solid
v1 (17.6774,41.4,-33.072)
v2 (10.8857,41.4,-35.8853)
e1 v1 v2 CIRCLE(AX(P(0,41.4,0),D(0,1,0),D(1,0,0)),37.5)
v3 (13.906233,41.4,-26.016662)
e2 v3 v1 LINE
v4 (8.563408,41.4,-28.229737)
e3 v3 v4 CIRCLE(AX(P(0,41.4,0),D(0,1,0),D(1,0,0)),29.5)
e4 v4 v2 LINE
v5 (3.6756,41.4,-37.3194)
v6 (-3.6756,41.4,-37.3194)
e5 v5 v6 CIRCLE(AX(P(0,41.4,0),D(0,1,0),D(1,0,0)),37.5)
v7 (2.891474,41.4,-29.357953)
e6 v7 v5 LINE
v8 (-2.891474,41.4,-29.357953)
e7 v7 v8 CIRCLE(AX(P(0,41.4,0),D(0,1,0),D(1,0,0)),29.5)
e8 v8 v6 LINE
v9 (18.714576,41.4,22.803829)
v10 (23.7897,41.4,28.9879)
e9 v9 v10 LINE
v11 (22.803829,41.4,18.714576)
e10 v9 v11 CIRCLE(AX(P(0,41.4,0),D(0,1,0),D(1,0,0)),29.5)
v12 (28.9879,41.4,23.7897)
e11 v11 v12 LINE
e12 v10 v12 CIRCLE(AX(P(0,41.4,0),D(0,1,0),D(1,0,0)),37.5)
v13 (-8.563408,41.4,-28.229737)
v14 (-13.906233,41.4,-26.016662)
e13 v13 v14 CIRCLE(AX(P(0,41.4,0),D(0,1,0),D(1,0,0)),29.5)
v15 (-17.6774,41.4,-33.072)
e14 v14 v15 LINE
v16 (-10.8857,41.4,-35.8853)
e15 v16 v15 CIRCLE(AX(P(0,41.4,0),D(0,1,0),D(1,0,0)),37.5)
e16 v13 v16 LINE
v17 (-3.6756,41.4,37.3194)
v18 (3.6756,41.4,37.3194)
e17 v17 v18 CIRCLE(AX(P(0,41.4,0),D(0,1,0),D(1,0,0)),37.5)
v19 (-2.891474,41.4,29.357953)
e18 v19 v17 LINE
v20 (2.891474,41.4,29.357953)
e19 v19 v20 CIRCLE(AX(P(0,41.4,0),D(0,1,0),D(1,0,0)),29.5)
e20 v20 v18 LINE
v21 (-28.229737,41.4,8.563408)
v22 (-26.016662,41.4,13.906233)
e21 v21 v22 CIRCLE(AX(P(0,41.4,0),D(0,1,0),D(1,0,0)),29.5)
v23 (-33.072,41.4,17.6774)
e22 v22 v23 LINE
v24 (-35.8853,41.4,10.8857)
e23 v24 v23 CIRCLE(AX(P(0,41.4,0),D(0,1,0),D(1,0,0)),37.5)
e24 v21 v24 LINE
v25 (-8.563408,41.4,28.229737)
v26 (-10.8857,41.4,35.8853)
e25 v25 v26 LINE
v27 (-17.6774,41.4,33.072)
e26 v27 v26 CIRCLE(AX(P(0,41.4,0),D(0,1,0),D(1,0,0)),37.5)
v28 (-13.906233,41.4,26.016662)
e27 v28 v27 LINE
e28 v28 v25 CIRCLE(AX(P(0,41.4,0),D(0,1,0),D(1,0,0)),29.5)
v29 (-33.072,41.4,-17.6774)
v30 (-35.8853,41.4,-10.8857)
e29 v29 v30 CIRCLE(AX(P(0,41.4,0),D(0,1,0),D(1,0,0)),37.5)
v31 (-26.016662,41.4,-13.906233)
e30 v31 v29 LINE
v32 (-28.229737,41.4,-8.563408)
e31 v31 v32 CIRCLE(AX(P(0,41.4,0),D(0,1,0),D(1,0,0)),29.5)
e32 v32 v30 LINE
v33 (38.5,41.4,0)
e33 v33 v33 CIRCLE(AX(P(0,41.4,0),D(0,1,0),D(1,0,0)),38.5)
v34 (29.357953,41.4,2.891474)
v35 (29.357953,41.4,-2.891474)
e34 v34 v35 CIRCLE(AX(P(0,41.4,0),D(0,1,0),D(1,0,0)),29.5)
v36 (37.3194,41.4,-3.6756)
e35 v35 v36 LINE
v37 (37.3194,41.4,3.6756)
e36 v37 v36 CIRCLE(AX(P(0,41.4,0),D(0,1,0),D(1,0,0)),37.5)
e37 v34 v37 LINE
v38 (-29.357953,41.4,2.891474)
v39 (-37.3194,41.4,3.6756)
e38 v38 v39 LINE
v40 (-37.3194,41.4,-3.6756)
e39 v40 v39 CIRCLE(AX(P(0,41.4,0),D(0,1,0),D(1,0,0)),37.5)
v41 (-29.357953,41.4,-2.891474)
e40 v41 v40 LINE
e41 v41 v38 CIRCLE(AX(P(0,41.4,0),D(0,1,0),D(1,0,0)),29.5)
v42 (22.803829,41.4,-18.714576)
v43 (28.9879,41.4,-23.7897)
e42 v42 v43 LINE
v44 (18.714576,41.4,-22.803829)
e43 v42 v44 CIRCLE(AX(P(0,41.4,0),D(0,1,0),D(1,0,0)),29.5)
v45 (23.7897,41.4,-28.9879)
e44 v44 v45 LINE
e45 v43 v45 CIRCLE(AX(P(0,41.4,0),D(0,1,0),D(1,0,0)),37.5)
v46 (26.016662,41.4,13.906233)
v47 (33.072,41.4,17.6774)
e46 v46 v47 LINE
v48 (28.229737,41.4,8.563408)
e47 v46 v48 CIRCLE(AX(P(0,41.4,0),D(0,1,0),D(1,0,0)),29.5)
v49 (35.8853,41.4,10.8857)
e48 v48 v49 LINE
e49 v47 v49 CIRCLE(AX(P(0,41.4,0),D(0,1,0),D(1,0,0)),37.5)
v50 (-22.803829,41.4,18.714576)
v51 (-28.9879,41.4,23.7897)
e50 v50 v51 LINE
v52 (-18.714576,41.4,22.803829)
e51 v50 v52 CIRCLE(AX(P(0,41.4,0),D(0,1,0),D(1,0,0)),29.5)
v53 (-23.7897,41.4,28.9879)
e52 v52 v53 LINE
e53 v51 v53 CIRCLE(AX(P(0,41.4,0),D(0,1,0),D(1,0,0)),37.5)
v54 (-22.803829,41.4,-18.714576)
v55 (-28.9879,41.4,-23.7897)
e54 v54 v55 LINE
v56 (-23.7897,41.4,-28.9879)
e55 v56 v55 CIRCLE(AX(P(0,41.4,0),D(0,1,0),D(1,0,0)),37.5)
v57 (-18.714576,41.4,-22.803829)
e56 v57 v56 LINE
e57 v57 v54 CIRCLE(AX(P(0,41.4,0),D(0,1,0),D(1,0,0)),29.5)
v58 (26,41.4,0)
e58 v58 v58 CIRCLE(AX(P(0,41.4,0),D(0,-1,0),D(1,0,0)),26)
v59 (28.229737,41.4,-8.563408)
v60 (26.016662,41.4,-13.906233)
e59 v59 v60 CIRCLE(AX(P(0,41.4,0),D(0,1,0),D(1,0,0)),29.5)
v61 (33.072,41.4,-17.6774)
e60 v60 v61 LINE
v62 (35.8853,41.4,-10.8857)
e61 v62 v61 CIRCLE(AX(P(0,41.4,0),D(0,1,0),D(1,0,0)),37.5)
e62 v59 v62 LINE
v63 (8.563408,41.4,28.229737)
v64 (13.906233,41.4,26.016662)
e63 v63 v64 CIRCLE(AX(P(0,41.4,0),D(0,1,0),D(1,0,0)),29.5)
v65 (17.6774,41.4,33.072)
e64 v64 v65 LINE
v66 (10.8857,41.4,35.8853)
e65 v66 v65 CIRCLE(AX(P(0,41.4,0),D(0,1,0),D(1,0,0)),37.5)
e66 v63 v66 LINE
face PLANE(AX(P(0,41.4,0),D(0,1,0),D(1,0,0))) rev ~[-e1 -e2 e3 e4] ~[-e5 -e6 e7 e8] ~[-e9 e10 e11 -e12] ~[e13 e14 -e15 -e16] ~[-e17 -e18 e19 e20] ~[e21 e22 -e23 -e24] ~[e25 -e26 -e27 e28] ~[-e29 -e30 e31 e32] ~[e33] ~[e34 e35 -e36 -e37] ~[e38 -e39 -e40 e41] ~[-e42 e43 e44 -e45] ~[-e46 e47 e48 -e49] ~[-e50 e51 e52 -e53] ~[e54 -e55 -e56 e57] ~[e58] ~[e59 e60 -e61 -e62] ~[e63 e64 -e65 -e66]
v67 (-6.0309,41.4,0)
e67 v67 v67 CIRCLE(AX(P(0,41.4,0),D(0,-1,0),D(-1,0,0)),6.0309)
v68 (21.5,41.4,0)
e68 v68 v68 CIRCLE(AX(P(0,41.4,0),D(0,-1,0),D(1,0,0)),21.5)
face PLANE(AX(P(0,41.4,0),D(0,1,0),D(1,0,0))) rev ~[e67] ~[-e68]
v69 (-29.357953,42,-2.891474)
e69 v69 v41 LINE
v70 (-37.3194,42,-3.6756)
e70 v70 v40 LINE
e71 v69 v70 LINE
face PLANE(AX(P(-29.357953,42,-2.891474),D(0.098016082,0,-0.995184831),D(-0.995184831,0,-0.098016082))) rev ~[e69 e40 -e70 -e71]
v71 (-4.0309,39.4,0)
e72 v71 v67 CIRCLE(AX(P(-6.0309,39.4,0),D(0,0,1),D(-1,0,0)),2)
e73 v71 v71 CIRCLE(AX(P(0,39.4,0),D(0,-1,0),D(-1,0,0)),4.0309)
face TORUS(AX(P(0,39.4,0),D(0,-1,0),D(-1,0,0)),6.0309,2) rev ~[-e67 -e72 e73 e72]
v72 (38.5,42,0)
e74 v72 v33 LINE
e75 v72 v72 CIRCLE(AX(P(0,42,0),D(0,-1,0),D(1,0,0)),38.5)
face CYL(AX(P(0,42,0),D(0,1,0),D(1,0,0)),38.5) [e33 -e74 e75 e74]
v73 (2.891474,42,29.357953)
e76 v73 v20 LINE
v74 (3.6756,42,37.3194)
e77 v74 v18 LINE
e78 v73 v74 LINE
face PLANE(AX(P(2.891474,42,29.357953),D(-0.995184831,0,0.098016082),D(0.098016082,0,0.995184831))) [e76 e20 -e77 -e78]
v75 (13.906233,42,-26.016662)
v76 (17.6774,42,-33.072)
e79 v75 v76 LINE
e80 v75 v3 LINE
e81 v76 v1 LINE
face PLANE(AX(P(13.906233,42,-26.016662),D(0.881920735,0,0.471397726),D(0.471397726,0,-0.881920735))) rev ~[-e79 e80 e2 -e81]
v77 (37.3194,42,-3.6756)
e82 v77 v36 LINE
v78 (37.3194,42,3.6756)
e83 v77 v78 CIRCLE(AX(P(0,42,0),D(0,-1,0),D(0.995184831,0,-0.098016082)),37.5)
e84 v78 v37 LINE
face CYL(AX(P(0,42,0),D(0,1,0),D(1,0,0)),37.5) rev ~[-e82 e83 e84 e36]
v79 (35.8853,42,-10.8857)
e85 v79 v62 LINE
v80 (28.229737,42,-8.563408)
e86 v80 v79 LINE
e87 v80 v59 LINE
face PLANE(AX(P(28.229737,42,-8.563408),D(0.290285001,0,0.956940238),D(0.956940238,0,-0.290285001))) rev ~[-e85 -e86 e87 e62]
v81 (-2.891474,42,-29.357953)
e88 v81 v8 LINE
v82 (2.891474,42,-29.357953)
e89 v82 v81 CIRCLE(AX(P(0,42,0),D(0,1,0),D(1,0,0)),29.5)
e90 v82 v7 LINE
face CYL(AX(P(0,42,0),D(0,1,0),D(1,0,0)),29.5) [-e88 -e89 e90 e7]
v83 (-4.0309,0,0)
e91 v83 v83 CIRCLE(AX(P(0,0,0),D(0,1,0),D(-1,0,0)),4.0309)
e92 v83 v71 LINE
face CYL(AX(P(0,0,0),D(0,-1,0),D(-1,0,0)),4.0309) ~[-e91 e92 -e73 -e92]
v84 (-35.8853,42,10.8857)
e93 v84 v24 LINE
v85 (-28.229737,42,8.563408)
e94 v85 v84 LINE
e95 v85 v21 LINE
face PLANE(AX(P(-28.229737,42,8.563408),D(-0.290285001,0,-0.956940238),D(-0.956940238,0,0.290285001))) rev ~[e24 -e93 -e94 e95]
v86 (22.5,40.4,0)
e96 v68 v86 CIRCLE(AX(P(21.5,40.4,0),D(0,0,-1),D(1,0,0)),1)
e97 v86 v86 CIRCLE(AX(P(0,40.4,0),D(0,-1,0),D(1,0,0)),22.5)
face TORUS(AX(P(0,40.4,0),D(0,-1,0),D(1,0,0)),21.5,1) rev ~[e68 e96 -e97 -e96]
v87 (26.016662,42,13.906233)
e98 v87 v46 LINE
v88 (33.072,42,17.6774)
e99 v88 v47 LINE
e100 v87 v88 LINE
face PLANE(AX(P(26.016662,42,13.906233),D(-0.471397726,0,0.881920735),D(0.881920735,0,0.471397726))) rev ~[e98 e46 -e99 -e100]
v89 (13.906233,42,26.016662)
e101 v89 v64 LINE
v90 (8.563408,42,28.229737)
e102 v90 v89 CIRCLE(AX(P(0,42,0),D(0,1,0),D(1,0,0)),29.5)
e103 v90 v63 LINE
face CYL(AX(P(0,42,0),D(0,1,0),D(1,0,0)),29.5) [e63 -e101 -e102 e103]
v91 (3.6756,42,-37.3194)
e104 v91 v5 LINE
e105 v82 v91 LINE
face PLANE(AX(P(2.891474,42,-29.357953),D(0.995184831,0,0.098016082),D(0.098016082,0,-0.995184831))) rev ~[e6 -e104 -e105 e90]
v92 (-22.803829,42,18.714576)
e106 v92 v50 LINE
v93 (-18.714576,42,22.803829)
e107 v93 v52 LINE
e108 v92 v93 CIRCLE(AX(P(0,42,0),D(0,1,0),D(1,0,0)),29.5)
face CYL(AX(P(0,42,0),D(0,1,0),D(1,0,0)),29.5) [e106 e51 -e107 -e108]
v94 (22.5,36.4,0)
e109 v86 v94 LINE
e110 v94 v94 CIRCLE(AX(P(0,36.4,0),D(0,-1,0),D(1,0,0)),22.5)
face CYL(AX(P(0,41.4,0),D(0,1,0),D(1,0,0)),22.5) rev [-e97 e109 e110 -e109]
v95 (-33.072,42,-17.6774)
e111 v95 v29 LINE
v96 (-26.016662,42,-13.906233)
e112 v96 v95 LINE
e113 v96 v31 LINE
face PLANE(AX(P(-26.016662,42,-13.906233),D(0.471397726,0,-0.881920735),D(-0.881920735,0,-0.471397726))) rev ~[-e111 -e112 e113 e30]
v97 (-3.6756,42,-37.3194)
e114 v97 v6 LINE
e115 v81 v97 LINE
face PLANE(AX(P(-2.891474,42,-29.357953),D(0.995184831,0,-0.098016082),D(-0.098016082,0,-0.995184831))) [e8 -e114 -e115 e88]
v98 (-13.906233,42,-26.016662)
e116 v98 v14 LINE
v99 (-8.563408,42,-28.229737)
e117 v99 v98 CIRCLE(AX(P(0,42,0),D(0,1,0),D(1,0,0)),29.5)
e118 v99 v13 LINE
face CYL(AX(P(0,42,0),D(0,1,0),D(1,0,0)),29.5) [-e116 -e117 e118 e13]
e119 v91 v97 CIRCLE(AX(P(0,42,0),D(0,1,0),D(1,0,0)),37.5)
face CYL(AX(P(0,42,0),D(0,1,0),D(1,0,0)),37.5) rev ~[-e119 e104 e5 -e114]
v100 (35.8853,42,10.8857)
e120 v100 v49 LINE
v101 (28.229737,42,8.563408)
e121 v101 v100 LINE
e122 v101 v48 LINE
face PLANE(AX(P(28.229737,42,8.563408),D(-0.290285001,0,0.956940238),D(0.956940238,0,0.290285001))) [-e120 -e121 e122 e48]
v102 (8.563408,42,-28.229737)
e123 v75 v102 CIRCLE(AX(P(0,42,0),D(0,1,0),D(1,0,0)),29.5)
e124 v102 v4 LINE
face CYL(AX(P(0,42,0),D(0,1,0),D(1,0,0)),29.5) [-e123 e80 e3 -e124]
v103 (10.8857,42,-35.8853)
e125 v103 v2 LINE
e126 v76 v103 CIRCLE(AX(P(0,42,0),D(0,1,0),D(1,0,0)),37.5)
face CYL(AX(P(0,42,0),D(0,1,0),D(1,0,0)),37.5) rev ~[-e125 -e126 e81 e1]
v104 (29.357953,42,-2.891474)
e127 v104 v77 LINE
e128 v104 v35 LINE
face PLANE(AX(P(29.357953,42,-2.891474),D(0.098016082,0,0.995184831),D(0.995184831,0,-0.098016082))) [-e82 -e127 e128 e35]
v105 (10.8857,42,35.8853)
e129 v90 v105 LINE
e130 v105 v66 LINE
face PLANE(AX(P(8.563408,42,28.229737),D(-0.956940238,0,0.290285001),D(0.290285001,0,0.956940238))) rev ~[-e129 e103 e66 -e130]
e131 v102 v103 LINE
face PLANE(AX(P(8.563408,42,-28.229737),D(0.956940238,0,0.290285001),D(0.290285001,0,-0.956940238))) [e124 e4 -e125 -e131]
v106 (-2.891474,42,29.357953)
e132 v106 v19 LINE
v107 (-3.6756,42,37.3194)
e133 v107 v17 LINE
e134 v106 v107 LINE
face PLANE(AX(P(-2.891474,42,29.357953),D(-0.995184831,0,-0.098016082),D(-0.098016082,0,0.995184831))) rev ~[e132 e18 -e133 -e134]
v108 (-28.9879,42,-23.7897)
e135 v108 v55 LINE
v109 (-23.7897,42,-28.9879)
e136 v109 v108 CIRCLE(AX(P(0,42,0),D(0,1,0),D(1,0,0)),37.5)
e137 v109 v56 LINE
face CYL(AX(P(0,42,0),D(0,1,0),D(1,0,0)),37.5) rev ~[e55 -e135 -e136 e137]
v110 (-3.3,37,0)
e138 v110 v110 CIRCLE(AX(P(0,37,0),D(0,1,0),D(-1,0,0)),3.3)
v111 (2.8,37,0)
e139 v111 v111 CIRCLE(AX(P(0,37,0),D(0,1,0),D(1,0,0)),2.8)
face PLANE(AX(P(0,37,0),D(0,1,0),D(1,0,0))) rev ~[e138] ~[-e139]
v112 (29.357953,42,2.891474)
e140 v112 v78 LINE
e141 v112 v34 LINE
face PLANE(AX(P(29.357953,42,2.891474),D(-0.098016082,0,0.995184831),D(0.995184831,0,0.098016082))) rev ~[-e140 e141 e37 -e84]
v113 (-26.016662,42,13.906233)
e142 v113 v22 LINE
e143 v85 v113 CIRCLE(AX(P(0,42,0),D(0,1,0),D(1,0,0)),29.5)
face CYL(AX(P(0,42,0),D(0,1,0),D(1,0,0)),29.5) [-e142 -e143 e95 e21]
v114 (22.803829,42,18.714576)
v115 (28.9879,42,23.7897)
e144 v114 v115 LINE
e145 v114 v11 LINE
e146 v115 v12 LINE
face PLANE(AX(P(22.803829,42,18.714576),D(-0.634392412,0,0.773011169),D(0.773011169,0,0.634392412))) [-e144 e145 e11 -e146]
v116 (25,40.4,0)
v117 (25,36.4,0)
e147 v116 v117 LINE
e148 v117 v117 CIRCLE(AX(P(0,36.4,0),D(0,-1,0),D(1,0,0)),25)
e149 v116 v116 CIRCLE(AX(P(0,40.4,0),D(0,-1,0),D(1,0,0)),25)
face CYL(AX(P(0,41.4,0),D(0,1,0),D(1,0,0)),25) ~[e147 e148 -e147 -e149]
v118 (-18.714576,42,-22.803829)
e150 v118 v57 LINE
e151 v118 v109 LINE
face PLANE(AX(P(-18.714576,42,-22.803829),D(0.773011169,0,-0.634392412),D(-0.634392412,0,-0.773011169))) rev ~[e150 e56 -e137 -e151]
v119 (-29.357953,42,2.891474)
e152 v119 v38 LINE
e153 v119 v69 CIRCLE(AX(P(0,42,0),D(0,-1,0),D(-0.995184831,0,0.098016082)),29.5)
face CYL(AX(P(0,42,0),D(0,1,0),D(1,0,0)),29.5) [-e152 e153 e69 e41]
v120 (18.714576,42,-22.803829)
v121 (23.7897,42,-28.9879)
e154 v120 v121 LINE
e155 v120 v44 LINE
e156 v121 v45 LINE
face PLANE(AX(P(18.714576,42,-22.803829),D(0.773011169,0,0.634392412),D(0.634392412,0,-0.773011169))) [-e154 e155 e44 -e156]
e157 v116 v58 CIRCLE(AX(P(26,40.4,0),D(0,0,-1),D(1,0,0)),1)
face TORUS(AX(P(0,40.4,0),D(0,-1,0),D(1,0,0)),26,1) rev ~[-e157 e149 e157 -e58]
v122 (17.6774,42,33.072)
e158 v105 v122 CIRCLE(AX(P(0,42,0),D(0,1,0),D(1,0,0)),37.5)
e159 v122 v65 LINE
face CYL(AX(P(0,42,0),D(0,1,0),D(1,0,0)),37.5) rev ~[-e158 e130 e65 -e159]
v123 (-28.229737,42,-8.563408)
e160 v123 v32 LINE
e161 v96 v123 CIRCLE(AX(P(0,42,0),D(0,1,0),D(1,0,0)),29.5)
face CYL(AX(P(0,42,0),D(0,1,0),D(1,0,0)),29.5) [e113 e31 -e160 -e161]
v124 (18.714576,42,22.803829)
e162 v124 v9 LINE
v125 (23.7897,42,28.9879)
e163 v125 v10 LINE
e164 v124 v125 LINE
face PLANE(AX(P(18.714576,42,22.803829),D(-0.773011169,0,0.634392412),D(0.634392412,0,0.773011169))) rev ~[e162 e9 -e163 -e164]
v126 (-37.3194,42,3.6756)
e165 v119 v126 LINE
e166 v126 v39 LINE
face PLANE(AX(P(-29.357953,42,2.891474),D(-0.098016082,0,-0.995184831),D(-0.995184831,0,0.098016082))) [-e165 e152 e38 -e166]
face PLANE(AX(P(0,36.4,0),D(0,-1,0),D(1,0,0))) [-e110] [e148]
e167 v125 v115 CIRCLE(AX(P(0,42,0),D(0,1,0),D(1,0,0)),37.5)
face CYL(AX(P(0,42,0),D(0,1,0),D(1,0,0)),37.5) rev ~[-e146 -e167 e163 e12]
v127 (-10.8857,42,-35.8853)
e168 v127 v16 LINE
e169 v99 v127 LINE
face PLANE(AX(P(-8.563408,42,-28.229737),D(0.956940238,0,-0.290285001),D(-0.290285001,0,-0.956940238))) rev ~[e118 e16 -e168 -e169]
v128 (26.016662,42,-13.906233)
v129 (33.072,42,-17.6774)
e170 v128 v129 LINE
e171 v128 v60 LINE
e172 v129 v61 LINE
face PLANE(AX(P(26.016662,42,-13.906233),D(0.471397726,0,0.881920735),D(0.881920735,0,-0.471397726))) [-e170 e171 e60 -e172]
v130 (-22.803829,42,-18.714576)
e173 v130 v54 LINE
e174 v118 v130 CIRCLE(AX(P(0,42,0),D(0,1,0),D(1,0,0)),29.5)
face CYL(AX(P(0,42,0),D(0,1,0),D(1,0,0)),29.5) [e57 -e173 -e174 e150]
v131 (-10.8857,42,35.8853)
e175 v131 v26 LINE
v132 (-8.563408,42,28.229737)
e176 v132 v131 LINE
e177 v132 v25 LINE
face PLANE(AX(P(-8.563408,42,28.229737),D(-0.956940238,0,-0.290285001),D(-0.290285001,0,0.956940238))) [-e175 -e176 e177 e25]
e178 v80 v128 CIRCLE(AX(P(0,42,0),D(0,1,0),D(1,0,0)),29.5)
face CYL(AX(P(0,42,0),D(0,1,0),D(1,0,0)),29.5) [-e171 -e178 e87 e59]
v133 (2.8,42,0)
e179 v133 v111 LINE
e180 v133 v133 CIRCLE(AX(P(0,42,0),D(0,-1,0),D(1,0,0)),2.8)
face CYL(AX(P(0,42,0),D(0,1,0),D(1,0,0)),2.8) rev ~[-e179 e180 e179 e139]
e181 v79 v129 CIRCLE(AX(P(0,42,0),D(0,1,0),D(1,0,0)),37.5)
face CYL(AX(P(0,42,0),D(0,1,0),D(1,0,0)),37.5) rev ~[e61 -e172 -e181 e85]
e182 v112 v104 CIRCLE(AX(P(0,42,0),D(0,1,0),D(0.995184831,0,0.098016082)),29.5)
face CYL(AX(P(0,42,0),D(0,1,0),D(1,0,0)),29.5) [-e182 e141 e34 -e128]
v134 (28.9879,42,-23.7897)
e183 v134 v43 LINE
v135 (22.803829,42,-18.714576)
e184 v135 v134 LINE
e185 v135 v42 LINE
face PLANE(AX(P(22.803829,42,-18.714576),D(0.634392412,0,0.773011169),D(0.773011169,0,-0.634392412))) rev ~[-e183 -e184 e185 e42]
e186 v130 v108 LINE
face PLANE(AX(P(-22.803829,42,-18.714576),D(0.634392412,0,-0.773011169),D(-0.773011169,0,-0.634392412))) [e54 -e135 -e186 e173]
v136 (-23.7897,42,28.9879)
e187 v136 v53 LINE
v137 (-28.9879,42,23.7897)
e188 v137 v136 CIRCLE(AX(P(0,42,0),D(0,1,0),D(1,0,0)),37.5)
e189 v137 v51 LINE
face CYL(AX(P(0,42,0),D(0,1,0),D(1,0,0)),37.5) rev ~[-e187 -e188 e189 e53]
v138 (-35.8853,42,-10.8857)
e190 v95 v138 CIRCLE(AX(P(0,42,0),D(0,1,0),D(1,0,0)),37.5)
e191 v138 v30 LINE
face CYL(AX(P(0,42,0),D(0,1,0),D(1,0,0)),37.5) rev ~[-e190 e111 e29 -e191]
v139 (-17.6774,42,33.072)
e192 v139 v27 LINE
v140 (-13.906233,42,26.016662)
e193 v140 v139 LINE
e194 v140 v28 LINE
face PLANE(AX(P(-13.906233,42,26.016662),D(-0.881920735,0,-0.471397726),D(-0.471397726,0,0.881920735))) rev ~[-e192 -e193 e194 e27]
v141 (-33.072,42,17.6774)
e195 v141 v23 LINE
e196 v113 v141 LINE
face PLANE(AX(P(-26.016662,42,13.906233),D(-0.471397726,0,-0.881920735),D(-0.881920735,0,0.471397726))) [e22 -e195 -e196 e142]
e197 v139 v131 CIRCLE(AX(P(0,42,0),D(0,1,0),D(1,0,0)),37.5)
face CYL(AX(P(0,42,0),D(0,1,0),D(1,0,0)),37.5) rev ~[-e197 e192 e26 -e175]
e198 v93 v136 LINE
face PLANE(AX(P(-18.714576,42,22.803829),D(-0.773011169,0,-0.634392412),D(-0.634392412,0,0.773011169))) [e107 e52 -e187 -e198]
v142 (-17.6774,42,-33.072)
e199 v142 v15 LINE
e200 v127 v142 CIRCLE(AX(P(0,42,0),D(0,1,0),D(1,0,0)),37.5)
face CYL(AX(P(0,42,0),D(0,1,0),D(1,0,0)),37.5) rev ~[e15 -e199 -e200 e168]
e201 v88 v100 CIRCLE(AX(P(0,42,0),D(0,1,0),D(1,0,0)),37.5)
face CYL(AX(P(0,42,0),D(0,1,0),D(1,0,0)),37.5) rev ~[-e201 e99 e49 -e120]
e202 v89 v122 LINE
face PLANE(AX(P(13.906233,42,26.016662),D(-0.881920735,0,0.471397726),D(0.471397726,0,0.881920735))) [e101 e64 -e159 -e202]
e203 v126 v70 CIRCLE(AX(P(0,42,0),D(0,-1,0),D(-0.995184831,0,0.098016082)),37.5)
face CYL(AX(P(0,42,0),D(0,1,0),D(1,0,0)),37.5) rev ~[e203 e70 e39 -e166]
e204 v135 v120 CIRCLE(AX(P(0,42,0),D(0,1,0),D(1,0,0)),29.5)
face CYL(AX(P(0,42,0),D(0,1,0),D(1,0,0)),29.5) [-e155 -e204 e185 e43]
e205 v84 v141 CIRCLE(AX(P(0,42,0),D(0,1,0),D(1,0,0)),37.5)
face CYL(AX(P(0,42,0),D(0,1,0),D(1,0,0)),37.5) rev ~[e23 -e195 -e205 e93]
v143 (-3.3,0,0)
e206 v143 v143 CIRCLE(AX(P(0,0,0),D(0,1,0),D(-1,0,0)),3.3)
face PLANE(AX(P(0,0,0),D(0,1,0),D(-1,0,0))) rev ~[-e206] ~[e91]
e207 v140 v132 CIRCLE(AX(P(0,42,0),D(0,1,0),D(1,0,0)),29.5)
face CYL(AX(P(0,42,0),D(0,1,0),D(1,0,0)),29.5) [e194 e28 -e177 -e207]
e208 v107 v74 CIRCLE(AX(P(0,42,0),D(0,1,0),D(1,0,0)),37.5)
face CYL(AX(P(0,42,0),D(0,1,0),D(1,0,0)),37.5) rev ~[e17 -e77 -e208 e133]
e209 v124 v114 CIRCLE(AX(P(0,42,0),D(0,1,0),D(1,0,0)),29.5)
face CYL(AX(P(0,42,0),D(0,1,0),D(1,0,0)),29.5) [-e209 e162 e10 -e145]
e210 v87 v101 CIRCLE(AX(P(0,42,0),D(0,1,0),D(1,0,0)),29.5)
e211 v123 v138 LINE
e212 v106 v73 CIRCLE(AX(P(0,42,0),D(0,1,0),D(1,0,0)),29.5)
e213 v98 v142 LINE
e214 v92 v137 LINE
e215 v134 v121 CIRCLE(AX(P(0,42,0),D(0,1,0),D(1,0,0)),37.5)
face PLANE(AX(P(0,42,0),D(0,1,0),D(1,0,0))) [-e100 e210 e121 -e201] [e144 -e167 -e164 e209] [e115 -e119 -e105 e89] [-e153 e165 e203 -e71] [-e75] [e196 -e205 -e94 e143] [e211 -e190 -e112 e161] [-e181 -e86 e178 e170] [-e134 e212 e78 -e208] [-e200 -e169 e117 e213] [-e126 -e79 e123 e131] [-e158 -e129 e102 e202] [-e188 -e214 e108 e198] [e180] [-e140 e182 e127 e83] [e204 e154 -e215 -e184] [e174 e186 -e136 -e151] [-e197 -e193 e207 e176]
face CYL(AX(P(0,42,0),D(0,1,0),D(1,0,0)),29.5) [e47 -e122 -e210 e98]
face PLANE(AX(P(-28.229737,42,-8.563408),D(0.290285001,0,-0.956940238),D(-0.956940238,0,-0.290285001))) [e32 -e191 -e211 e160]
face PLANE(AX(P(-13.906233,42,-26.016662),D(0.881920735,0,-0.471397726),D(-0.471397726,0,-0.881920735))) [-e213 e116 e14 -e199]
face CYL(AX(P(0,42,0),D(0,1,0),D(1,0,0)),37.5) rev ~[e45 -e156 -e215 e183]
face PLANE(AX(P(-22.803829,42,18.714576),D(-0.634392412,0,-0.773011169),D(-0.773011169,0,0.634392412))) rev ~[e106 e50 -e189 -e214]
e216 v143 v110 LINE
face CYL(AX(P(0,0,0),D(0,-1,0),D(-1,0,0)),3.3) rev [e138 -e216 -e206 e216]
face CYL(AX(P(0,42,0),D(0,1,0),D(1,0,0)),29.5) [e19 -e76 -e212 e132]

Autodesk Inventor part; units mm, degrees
ref_plane "YZ Plane" through (0, 0, 0) normal (1, 0, 0) x (0, 1, 0)
ref_plane "XZ Plane" through (0, 0, 0) normal (0, 1, 0) x (-1, 0, 0)
ref_plane "XY Plane" through (0, 0, 0) normal (0, 0, 1) x (1, 0, 0)
sketch "Sketch1" plane through (0, 0, 0) normal (0, 1, 0) x (-1, 0, 0)
  circle A0 centre (0, 0) radius 4.0309
  circle A1 centre (0, 0) radius 3.3
  dimension "d0" = 6.6
extrude "Extrusion1" add sketch "Sketch1" along normal blind 42
sketch "Sketch2" plane through (0, 42, 0) normal (0, 1, 0) x (1, 0, 0)
  circle A0 centre (0, 0) radius 4.0309 projected
  circle A1 centre (0, 0) radius 3.3 projected
  circle A2 centre (0, 0) radius 2.8
  dimension "d3" = 5.6
extrude "Extrusion2" add sketch "Sketch2" against normal blind 5 contours A1
sketch "Sketch3" plane through (0, 42, 0) normal (0, 1, 0) x (1, 0, 0)
  circle A0 centre (0, 0) radius 38.5
  circle A1 centre (0, 0) radius 25
  circle A2 centre (0, 0) radius 4.0309 projected
  circle A3 centre (0, 0) radius 2.8 projected
  line L0 (0, 4.0309) -> (38.2884, 4.0309)
  line L1 (0, -4.0309) -> (38.2884, -4.0309)
  line L2 (-3.4908, -2.0154) -> (-22.635, 31.1433)
  line L3 (3.4908, 2.0154) -> (-15.6534, 35.1742)
  line L4 (3.4908, -2.0154) -> (-15.6534, -35.1742)
  line L5 (-3.4908, 2.0154) -> (-22.635, -31.1433)
  point P0 (24.6729, 4.0309)
  point P1 (24.6729, -4.0309)
  point P2 (-4.6544, 0)
  point P3 (-3.4908, 2.0154)
  point P4 (2.3272, 4.0309)
  point P5 (-8.8456, 23.3828)
  point P6 (-15.8273, 19.3519)
  point P7 (-15.8273, -19.3519)
  point P8 (-8.8456, -23.3828)
  point P9 (2.3272, -4.0309)
  point P10 (-3.4908, -2.0154)
  point P11 (-22.635, -31.1433)
  point P12 (-22.635, 31.1433)
  point P13 (3.4908, -2.0154)
  point P14 (-15.6534, -35.1742)
  point P15 (-15.6534, 35.1742)
  dimension "d10" = 77
  dimension "d11" = 50
  dimension "d28" = 360
extrude "Extrusion3" add sketch "Sketch3" against normal blind 0.6 contours A0 L1 A1 L0 | L0 A1 L3 A0 | A0 L4 A1 L1 | L3 A1 L2 A0 | L0 L3 A1 | A1 L1 L4 A2 L3 L0 | A0 L5 A1 L4 | A1 L4 L1 | L2 A1 L5 A0 | L3 L0 A2 L5 L2 A1 | L3 A2 L0 | A1 L5 L2 A2 L1 L4 | L1 A2 L4 | L2 L5 A1 | A2 | L5 A2 L2 | A3
fillet "Fillet1" [suppressed]
sketch "Sketch4" plane through (0, 42, 0) normal (0, 1, 0) x (1, 0, 0)
  circle A0 centre (0, 0) radius 39.5 projected
  circle A1 centre (0, 0) radius 37.5
  circle A2 centre (0, 0) radius 29.5
  line L0 (-39.5, 0) -> (0, 0)
  line L1 (0, 0) -> (-37.3194, 3.6756)
  line L2 (0, 0) -> (-37.3194, -3.6756)
  line L3 (0, 0) -> (-35.8853, -10.8857)
  line L4 (0, 0) -> (-33.072, -17.6774)
  line L5 (0, 0) -> (-28.9879, -23.7897)
  line L6 (0, 0) -> (-23.7897, -28.9879)
  line L7 (0, 0) -> (-17.6774, -33.072)
  line L8 (0, 0) -> (-10.8857, -35.8853)
  line L9 (0, 0) -> (-3.6756, -37.3194)
  line L10 (0, 0) -> (3.6756, -37.3194)
  line L11 (0, 0) -> (10.8857, -35.8853)
  line L12 (0, 0) -> (17.6774, -33.072)
  line L13 (0, 0) -> (23.7897, -28.9879)
  line L14 (0, 0) -> (28.9879, -23.7897)
  line L15 (0, 0) -> (33.072, -17.6774)
  line L16 (0, 0) -> (35.8853, -10.8857)
  line L17 (0, 0) -> (37.3194, -3.6756)
  line L18 (0, 0) -> (37.3194, 3.6756)
  line L19 (0, 0) -> (35.8853, 10.8857)
  line L20 (0, 0) -> (33.072, 17.6774)
  line L21 (0, 0) -> (28.9879, 23.7897)
  line L22 (0, 0) -> (23.7897, 28.9879)
  line L23 (0, 0) -> (17.6774, 33.072)
  line L24 (0, 0) -> (10.8857, 35.8853)
  line L25 (0, 0) -> (3.6756, 37.3194)
  line L26 (0, 0) -> (-3.6756, 37.3194)
  line L27 (0, 0) -> (-10.8857, 35.8853)
  line L28 (0, 0) -> (-17.6774, 33.072)
  line L29 (0, 0) -> (-23.7897, 28.9879)
  line L30 (0, 0) -> (-28.9879, 23.7897)
  line L31 (0, 0) -> (-33.072, 17.6774)
  line L32 (0, 0) -> (-35.8853, 10.8857)
  point P0 (-23.7897, -28.9879)
  point P1 (-18.7146, -22.8038)
  point P2 (-22.8038, -18.7146)
  point P3 (-28.9879, -23.7897)
  point P4 (-10.8857, -35.8853)
  point P5 (-8.5634, -28.2297)
  point P6 (-13.9062, -26.0167)
  point P7 (-17.6774, -33.072)
  point P8 (3.6756, -37.3194)
  point P9 (2.8915, -29.3579)
  point P10 (-2.8915, -29.3579)
  point P11 (17.6774, -33.072)
  point P12 (13.9062, -26.0167)
  point P13 (8.5634, -28.2297)
  point P14 (10.8857, -35.8853)
  point P15 (28.9879, -23.7897)
  point P16 (22.8038, -18.7146)
  point P17 (18.7146, -22.8038)
  point P18 (23.7897, -28.9879)
  point P19 (35.8853, -10.8857)
  point P20 (28.2297, -8.5634)
  point P21 (26.0167, -13.9062)
  point P22 (33.072, -17.6774)
  point P23 (-33.072, -17.6774)
  point P24 (-26.0167, -13.9062)
  point P25 (-28.2297, -8.5634)
  point P26 (-35.8853, -10.8857)
  point P27 (-29.3579, -2.8915)
  point P28 (-29.3579, 2.8915)
  point P29 (37.3194, 3.6756)
  point P30 (29.3579, 2.8915)
  point P31 (29.3579, -2.8915)
  point P32 (37.3194, -3.6756)
  point P33 (33.072, 17.6774)
  point P34 (26.0167, 13.9062)
  point P35 (28.2297, 8.5634)
  point P36 (35.8853, 10.8857)
  point P37 (23.7897, 28.9879)
  point P38 (18.7146, 22.8038)
  point P39 (22.8038, 18.7146)
  point P40 (28.9879, 23.7897)
  point P41 (10.8857, 35.8853)
  point P42 (8.5634, 28.2297)
  point P43 (13.9062, 26.0167)
  point P44 (17.6774, 33.072)
  point P45 (-3.6756, 37.3194)
  point P46 (-2.8915, 29.3579)
  point P47 (2.8915, 29.3579)
  point P48 (3.6756, 37.3194)
  point P49 (-17.6774, 33.072)
  point P50 (-13.9062, 26.0167)
  point P51 (-8.5634, 28.2297)
  point P52 (-10.8857, 35.8853)
  point P53 (-35.8853, 10.8857)
  point P54 (-28.2297, 8.5634)
  point P55 (-26.0167, 13.9062)
  point P56 (-33.072, 17.6774)
  point P57 (-28.9879, 23.7897)
  point P58 (-22.8038, 18.7146)
  point P59 (-18.7146, 22.8038)
  point P60 (-23.7897, 28.9879)
  dimension "d15" = 2
  dimension "d16" = 8
  dimension "d17" = 5.625
  dimension "d19" = 5.625
  dimension "d22" = 360
extrude "Extrusion4" cut sketch "Sketch4" against normal through all contours A1 L1 A2 L0 | L0 A2 L2 A1 | A1 L31 A2 L32 | L3 A2 L4 A1 | A2 L6 A1 L5 | A2 L8 A1 L7 | A2 L10 A1 L9 | A2 L12 A1 L11 | A2 L14 A1 L13 | A2 L16 A1 L15 | A2 L18 A1 L17 | A2 L20 A1 L19 | A2 L22 A1 L21 | A2 L24 A1 L23 | A2 L26 A1 L25 | A2 L28 A1 L27 | A2 L30 A1 L29
fillet "Fillet2" [suppressed]
sketch "Sketch5" plane through (0, 41.4, 0) normal (0, -1, 0) x (1, 0, 0)
  circle A0 centre (0, 0) radius 2.8 projected
extrude "Extrusion5" cut sketch "Sketch5" against normal blind 0.6
fillet "Fillet3" radius 2 1 edges at (4.0309, 41.4, 0)
sketch "Sketch6" plane through (0, 41.4, 0) normal (0, -1, 0) x (1, 0, 0)
  circle A0 centre (0, 0) radius 25
  circle A1 centre (0, 0) radius 4.0309 projected
  circle A2 centre (0, 0) radius 22.5
  dimension "d34" = 50
  dimension "d35" = 45
extrude "Extrusion6" add sketch "Sketch6" along normal blind 5 contours A0
fillet "Fillet4" radius 1 2 edges at (-22.5, 41.4, 0) (-25, 41.4, 0)
properties part number "Eje_econder" material "PET Plastic"
